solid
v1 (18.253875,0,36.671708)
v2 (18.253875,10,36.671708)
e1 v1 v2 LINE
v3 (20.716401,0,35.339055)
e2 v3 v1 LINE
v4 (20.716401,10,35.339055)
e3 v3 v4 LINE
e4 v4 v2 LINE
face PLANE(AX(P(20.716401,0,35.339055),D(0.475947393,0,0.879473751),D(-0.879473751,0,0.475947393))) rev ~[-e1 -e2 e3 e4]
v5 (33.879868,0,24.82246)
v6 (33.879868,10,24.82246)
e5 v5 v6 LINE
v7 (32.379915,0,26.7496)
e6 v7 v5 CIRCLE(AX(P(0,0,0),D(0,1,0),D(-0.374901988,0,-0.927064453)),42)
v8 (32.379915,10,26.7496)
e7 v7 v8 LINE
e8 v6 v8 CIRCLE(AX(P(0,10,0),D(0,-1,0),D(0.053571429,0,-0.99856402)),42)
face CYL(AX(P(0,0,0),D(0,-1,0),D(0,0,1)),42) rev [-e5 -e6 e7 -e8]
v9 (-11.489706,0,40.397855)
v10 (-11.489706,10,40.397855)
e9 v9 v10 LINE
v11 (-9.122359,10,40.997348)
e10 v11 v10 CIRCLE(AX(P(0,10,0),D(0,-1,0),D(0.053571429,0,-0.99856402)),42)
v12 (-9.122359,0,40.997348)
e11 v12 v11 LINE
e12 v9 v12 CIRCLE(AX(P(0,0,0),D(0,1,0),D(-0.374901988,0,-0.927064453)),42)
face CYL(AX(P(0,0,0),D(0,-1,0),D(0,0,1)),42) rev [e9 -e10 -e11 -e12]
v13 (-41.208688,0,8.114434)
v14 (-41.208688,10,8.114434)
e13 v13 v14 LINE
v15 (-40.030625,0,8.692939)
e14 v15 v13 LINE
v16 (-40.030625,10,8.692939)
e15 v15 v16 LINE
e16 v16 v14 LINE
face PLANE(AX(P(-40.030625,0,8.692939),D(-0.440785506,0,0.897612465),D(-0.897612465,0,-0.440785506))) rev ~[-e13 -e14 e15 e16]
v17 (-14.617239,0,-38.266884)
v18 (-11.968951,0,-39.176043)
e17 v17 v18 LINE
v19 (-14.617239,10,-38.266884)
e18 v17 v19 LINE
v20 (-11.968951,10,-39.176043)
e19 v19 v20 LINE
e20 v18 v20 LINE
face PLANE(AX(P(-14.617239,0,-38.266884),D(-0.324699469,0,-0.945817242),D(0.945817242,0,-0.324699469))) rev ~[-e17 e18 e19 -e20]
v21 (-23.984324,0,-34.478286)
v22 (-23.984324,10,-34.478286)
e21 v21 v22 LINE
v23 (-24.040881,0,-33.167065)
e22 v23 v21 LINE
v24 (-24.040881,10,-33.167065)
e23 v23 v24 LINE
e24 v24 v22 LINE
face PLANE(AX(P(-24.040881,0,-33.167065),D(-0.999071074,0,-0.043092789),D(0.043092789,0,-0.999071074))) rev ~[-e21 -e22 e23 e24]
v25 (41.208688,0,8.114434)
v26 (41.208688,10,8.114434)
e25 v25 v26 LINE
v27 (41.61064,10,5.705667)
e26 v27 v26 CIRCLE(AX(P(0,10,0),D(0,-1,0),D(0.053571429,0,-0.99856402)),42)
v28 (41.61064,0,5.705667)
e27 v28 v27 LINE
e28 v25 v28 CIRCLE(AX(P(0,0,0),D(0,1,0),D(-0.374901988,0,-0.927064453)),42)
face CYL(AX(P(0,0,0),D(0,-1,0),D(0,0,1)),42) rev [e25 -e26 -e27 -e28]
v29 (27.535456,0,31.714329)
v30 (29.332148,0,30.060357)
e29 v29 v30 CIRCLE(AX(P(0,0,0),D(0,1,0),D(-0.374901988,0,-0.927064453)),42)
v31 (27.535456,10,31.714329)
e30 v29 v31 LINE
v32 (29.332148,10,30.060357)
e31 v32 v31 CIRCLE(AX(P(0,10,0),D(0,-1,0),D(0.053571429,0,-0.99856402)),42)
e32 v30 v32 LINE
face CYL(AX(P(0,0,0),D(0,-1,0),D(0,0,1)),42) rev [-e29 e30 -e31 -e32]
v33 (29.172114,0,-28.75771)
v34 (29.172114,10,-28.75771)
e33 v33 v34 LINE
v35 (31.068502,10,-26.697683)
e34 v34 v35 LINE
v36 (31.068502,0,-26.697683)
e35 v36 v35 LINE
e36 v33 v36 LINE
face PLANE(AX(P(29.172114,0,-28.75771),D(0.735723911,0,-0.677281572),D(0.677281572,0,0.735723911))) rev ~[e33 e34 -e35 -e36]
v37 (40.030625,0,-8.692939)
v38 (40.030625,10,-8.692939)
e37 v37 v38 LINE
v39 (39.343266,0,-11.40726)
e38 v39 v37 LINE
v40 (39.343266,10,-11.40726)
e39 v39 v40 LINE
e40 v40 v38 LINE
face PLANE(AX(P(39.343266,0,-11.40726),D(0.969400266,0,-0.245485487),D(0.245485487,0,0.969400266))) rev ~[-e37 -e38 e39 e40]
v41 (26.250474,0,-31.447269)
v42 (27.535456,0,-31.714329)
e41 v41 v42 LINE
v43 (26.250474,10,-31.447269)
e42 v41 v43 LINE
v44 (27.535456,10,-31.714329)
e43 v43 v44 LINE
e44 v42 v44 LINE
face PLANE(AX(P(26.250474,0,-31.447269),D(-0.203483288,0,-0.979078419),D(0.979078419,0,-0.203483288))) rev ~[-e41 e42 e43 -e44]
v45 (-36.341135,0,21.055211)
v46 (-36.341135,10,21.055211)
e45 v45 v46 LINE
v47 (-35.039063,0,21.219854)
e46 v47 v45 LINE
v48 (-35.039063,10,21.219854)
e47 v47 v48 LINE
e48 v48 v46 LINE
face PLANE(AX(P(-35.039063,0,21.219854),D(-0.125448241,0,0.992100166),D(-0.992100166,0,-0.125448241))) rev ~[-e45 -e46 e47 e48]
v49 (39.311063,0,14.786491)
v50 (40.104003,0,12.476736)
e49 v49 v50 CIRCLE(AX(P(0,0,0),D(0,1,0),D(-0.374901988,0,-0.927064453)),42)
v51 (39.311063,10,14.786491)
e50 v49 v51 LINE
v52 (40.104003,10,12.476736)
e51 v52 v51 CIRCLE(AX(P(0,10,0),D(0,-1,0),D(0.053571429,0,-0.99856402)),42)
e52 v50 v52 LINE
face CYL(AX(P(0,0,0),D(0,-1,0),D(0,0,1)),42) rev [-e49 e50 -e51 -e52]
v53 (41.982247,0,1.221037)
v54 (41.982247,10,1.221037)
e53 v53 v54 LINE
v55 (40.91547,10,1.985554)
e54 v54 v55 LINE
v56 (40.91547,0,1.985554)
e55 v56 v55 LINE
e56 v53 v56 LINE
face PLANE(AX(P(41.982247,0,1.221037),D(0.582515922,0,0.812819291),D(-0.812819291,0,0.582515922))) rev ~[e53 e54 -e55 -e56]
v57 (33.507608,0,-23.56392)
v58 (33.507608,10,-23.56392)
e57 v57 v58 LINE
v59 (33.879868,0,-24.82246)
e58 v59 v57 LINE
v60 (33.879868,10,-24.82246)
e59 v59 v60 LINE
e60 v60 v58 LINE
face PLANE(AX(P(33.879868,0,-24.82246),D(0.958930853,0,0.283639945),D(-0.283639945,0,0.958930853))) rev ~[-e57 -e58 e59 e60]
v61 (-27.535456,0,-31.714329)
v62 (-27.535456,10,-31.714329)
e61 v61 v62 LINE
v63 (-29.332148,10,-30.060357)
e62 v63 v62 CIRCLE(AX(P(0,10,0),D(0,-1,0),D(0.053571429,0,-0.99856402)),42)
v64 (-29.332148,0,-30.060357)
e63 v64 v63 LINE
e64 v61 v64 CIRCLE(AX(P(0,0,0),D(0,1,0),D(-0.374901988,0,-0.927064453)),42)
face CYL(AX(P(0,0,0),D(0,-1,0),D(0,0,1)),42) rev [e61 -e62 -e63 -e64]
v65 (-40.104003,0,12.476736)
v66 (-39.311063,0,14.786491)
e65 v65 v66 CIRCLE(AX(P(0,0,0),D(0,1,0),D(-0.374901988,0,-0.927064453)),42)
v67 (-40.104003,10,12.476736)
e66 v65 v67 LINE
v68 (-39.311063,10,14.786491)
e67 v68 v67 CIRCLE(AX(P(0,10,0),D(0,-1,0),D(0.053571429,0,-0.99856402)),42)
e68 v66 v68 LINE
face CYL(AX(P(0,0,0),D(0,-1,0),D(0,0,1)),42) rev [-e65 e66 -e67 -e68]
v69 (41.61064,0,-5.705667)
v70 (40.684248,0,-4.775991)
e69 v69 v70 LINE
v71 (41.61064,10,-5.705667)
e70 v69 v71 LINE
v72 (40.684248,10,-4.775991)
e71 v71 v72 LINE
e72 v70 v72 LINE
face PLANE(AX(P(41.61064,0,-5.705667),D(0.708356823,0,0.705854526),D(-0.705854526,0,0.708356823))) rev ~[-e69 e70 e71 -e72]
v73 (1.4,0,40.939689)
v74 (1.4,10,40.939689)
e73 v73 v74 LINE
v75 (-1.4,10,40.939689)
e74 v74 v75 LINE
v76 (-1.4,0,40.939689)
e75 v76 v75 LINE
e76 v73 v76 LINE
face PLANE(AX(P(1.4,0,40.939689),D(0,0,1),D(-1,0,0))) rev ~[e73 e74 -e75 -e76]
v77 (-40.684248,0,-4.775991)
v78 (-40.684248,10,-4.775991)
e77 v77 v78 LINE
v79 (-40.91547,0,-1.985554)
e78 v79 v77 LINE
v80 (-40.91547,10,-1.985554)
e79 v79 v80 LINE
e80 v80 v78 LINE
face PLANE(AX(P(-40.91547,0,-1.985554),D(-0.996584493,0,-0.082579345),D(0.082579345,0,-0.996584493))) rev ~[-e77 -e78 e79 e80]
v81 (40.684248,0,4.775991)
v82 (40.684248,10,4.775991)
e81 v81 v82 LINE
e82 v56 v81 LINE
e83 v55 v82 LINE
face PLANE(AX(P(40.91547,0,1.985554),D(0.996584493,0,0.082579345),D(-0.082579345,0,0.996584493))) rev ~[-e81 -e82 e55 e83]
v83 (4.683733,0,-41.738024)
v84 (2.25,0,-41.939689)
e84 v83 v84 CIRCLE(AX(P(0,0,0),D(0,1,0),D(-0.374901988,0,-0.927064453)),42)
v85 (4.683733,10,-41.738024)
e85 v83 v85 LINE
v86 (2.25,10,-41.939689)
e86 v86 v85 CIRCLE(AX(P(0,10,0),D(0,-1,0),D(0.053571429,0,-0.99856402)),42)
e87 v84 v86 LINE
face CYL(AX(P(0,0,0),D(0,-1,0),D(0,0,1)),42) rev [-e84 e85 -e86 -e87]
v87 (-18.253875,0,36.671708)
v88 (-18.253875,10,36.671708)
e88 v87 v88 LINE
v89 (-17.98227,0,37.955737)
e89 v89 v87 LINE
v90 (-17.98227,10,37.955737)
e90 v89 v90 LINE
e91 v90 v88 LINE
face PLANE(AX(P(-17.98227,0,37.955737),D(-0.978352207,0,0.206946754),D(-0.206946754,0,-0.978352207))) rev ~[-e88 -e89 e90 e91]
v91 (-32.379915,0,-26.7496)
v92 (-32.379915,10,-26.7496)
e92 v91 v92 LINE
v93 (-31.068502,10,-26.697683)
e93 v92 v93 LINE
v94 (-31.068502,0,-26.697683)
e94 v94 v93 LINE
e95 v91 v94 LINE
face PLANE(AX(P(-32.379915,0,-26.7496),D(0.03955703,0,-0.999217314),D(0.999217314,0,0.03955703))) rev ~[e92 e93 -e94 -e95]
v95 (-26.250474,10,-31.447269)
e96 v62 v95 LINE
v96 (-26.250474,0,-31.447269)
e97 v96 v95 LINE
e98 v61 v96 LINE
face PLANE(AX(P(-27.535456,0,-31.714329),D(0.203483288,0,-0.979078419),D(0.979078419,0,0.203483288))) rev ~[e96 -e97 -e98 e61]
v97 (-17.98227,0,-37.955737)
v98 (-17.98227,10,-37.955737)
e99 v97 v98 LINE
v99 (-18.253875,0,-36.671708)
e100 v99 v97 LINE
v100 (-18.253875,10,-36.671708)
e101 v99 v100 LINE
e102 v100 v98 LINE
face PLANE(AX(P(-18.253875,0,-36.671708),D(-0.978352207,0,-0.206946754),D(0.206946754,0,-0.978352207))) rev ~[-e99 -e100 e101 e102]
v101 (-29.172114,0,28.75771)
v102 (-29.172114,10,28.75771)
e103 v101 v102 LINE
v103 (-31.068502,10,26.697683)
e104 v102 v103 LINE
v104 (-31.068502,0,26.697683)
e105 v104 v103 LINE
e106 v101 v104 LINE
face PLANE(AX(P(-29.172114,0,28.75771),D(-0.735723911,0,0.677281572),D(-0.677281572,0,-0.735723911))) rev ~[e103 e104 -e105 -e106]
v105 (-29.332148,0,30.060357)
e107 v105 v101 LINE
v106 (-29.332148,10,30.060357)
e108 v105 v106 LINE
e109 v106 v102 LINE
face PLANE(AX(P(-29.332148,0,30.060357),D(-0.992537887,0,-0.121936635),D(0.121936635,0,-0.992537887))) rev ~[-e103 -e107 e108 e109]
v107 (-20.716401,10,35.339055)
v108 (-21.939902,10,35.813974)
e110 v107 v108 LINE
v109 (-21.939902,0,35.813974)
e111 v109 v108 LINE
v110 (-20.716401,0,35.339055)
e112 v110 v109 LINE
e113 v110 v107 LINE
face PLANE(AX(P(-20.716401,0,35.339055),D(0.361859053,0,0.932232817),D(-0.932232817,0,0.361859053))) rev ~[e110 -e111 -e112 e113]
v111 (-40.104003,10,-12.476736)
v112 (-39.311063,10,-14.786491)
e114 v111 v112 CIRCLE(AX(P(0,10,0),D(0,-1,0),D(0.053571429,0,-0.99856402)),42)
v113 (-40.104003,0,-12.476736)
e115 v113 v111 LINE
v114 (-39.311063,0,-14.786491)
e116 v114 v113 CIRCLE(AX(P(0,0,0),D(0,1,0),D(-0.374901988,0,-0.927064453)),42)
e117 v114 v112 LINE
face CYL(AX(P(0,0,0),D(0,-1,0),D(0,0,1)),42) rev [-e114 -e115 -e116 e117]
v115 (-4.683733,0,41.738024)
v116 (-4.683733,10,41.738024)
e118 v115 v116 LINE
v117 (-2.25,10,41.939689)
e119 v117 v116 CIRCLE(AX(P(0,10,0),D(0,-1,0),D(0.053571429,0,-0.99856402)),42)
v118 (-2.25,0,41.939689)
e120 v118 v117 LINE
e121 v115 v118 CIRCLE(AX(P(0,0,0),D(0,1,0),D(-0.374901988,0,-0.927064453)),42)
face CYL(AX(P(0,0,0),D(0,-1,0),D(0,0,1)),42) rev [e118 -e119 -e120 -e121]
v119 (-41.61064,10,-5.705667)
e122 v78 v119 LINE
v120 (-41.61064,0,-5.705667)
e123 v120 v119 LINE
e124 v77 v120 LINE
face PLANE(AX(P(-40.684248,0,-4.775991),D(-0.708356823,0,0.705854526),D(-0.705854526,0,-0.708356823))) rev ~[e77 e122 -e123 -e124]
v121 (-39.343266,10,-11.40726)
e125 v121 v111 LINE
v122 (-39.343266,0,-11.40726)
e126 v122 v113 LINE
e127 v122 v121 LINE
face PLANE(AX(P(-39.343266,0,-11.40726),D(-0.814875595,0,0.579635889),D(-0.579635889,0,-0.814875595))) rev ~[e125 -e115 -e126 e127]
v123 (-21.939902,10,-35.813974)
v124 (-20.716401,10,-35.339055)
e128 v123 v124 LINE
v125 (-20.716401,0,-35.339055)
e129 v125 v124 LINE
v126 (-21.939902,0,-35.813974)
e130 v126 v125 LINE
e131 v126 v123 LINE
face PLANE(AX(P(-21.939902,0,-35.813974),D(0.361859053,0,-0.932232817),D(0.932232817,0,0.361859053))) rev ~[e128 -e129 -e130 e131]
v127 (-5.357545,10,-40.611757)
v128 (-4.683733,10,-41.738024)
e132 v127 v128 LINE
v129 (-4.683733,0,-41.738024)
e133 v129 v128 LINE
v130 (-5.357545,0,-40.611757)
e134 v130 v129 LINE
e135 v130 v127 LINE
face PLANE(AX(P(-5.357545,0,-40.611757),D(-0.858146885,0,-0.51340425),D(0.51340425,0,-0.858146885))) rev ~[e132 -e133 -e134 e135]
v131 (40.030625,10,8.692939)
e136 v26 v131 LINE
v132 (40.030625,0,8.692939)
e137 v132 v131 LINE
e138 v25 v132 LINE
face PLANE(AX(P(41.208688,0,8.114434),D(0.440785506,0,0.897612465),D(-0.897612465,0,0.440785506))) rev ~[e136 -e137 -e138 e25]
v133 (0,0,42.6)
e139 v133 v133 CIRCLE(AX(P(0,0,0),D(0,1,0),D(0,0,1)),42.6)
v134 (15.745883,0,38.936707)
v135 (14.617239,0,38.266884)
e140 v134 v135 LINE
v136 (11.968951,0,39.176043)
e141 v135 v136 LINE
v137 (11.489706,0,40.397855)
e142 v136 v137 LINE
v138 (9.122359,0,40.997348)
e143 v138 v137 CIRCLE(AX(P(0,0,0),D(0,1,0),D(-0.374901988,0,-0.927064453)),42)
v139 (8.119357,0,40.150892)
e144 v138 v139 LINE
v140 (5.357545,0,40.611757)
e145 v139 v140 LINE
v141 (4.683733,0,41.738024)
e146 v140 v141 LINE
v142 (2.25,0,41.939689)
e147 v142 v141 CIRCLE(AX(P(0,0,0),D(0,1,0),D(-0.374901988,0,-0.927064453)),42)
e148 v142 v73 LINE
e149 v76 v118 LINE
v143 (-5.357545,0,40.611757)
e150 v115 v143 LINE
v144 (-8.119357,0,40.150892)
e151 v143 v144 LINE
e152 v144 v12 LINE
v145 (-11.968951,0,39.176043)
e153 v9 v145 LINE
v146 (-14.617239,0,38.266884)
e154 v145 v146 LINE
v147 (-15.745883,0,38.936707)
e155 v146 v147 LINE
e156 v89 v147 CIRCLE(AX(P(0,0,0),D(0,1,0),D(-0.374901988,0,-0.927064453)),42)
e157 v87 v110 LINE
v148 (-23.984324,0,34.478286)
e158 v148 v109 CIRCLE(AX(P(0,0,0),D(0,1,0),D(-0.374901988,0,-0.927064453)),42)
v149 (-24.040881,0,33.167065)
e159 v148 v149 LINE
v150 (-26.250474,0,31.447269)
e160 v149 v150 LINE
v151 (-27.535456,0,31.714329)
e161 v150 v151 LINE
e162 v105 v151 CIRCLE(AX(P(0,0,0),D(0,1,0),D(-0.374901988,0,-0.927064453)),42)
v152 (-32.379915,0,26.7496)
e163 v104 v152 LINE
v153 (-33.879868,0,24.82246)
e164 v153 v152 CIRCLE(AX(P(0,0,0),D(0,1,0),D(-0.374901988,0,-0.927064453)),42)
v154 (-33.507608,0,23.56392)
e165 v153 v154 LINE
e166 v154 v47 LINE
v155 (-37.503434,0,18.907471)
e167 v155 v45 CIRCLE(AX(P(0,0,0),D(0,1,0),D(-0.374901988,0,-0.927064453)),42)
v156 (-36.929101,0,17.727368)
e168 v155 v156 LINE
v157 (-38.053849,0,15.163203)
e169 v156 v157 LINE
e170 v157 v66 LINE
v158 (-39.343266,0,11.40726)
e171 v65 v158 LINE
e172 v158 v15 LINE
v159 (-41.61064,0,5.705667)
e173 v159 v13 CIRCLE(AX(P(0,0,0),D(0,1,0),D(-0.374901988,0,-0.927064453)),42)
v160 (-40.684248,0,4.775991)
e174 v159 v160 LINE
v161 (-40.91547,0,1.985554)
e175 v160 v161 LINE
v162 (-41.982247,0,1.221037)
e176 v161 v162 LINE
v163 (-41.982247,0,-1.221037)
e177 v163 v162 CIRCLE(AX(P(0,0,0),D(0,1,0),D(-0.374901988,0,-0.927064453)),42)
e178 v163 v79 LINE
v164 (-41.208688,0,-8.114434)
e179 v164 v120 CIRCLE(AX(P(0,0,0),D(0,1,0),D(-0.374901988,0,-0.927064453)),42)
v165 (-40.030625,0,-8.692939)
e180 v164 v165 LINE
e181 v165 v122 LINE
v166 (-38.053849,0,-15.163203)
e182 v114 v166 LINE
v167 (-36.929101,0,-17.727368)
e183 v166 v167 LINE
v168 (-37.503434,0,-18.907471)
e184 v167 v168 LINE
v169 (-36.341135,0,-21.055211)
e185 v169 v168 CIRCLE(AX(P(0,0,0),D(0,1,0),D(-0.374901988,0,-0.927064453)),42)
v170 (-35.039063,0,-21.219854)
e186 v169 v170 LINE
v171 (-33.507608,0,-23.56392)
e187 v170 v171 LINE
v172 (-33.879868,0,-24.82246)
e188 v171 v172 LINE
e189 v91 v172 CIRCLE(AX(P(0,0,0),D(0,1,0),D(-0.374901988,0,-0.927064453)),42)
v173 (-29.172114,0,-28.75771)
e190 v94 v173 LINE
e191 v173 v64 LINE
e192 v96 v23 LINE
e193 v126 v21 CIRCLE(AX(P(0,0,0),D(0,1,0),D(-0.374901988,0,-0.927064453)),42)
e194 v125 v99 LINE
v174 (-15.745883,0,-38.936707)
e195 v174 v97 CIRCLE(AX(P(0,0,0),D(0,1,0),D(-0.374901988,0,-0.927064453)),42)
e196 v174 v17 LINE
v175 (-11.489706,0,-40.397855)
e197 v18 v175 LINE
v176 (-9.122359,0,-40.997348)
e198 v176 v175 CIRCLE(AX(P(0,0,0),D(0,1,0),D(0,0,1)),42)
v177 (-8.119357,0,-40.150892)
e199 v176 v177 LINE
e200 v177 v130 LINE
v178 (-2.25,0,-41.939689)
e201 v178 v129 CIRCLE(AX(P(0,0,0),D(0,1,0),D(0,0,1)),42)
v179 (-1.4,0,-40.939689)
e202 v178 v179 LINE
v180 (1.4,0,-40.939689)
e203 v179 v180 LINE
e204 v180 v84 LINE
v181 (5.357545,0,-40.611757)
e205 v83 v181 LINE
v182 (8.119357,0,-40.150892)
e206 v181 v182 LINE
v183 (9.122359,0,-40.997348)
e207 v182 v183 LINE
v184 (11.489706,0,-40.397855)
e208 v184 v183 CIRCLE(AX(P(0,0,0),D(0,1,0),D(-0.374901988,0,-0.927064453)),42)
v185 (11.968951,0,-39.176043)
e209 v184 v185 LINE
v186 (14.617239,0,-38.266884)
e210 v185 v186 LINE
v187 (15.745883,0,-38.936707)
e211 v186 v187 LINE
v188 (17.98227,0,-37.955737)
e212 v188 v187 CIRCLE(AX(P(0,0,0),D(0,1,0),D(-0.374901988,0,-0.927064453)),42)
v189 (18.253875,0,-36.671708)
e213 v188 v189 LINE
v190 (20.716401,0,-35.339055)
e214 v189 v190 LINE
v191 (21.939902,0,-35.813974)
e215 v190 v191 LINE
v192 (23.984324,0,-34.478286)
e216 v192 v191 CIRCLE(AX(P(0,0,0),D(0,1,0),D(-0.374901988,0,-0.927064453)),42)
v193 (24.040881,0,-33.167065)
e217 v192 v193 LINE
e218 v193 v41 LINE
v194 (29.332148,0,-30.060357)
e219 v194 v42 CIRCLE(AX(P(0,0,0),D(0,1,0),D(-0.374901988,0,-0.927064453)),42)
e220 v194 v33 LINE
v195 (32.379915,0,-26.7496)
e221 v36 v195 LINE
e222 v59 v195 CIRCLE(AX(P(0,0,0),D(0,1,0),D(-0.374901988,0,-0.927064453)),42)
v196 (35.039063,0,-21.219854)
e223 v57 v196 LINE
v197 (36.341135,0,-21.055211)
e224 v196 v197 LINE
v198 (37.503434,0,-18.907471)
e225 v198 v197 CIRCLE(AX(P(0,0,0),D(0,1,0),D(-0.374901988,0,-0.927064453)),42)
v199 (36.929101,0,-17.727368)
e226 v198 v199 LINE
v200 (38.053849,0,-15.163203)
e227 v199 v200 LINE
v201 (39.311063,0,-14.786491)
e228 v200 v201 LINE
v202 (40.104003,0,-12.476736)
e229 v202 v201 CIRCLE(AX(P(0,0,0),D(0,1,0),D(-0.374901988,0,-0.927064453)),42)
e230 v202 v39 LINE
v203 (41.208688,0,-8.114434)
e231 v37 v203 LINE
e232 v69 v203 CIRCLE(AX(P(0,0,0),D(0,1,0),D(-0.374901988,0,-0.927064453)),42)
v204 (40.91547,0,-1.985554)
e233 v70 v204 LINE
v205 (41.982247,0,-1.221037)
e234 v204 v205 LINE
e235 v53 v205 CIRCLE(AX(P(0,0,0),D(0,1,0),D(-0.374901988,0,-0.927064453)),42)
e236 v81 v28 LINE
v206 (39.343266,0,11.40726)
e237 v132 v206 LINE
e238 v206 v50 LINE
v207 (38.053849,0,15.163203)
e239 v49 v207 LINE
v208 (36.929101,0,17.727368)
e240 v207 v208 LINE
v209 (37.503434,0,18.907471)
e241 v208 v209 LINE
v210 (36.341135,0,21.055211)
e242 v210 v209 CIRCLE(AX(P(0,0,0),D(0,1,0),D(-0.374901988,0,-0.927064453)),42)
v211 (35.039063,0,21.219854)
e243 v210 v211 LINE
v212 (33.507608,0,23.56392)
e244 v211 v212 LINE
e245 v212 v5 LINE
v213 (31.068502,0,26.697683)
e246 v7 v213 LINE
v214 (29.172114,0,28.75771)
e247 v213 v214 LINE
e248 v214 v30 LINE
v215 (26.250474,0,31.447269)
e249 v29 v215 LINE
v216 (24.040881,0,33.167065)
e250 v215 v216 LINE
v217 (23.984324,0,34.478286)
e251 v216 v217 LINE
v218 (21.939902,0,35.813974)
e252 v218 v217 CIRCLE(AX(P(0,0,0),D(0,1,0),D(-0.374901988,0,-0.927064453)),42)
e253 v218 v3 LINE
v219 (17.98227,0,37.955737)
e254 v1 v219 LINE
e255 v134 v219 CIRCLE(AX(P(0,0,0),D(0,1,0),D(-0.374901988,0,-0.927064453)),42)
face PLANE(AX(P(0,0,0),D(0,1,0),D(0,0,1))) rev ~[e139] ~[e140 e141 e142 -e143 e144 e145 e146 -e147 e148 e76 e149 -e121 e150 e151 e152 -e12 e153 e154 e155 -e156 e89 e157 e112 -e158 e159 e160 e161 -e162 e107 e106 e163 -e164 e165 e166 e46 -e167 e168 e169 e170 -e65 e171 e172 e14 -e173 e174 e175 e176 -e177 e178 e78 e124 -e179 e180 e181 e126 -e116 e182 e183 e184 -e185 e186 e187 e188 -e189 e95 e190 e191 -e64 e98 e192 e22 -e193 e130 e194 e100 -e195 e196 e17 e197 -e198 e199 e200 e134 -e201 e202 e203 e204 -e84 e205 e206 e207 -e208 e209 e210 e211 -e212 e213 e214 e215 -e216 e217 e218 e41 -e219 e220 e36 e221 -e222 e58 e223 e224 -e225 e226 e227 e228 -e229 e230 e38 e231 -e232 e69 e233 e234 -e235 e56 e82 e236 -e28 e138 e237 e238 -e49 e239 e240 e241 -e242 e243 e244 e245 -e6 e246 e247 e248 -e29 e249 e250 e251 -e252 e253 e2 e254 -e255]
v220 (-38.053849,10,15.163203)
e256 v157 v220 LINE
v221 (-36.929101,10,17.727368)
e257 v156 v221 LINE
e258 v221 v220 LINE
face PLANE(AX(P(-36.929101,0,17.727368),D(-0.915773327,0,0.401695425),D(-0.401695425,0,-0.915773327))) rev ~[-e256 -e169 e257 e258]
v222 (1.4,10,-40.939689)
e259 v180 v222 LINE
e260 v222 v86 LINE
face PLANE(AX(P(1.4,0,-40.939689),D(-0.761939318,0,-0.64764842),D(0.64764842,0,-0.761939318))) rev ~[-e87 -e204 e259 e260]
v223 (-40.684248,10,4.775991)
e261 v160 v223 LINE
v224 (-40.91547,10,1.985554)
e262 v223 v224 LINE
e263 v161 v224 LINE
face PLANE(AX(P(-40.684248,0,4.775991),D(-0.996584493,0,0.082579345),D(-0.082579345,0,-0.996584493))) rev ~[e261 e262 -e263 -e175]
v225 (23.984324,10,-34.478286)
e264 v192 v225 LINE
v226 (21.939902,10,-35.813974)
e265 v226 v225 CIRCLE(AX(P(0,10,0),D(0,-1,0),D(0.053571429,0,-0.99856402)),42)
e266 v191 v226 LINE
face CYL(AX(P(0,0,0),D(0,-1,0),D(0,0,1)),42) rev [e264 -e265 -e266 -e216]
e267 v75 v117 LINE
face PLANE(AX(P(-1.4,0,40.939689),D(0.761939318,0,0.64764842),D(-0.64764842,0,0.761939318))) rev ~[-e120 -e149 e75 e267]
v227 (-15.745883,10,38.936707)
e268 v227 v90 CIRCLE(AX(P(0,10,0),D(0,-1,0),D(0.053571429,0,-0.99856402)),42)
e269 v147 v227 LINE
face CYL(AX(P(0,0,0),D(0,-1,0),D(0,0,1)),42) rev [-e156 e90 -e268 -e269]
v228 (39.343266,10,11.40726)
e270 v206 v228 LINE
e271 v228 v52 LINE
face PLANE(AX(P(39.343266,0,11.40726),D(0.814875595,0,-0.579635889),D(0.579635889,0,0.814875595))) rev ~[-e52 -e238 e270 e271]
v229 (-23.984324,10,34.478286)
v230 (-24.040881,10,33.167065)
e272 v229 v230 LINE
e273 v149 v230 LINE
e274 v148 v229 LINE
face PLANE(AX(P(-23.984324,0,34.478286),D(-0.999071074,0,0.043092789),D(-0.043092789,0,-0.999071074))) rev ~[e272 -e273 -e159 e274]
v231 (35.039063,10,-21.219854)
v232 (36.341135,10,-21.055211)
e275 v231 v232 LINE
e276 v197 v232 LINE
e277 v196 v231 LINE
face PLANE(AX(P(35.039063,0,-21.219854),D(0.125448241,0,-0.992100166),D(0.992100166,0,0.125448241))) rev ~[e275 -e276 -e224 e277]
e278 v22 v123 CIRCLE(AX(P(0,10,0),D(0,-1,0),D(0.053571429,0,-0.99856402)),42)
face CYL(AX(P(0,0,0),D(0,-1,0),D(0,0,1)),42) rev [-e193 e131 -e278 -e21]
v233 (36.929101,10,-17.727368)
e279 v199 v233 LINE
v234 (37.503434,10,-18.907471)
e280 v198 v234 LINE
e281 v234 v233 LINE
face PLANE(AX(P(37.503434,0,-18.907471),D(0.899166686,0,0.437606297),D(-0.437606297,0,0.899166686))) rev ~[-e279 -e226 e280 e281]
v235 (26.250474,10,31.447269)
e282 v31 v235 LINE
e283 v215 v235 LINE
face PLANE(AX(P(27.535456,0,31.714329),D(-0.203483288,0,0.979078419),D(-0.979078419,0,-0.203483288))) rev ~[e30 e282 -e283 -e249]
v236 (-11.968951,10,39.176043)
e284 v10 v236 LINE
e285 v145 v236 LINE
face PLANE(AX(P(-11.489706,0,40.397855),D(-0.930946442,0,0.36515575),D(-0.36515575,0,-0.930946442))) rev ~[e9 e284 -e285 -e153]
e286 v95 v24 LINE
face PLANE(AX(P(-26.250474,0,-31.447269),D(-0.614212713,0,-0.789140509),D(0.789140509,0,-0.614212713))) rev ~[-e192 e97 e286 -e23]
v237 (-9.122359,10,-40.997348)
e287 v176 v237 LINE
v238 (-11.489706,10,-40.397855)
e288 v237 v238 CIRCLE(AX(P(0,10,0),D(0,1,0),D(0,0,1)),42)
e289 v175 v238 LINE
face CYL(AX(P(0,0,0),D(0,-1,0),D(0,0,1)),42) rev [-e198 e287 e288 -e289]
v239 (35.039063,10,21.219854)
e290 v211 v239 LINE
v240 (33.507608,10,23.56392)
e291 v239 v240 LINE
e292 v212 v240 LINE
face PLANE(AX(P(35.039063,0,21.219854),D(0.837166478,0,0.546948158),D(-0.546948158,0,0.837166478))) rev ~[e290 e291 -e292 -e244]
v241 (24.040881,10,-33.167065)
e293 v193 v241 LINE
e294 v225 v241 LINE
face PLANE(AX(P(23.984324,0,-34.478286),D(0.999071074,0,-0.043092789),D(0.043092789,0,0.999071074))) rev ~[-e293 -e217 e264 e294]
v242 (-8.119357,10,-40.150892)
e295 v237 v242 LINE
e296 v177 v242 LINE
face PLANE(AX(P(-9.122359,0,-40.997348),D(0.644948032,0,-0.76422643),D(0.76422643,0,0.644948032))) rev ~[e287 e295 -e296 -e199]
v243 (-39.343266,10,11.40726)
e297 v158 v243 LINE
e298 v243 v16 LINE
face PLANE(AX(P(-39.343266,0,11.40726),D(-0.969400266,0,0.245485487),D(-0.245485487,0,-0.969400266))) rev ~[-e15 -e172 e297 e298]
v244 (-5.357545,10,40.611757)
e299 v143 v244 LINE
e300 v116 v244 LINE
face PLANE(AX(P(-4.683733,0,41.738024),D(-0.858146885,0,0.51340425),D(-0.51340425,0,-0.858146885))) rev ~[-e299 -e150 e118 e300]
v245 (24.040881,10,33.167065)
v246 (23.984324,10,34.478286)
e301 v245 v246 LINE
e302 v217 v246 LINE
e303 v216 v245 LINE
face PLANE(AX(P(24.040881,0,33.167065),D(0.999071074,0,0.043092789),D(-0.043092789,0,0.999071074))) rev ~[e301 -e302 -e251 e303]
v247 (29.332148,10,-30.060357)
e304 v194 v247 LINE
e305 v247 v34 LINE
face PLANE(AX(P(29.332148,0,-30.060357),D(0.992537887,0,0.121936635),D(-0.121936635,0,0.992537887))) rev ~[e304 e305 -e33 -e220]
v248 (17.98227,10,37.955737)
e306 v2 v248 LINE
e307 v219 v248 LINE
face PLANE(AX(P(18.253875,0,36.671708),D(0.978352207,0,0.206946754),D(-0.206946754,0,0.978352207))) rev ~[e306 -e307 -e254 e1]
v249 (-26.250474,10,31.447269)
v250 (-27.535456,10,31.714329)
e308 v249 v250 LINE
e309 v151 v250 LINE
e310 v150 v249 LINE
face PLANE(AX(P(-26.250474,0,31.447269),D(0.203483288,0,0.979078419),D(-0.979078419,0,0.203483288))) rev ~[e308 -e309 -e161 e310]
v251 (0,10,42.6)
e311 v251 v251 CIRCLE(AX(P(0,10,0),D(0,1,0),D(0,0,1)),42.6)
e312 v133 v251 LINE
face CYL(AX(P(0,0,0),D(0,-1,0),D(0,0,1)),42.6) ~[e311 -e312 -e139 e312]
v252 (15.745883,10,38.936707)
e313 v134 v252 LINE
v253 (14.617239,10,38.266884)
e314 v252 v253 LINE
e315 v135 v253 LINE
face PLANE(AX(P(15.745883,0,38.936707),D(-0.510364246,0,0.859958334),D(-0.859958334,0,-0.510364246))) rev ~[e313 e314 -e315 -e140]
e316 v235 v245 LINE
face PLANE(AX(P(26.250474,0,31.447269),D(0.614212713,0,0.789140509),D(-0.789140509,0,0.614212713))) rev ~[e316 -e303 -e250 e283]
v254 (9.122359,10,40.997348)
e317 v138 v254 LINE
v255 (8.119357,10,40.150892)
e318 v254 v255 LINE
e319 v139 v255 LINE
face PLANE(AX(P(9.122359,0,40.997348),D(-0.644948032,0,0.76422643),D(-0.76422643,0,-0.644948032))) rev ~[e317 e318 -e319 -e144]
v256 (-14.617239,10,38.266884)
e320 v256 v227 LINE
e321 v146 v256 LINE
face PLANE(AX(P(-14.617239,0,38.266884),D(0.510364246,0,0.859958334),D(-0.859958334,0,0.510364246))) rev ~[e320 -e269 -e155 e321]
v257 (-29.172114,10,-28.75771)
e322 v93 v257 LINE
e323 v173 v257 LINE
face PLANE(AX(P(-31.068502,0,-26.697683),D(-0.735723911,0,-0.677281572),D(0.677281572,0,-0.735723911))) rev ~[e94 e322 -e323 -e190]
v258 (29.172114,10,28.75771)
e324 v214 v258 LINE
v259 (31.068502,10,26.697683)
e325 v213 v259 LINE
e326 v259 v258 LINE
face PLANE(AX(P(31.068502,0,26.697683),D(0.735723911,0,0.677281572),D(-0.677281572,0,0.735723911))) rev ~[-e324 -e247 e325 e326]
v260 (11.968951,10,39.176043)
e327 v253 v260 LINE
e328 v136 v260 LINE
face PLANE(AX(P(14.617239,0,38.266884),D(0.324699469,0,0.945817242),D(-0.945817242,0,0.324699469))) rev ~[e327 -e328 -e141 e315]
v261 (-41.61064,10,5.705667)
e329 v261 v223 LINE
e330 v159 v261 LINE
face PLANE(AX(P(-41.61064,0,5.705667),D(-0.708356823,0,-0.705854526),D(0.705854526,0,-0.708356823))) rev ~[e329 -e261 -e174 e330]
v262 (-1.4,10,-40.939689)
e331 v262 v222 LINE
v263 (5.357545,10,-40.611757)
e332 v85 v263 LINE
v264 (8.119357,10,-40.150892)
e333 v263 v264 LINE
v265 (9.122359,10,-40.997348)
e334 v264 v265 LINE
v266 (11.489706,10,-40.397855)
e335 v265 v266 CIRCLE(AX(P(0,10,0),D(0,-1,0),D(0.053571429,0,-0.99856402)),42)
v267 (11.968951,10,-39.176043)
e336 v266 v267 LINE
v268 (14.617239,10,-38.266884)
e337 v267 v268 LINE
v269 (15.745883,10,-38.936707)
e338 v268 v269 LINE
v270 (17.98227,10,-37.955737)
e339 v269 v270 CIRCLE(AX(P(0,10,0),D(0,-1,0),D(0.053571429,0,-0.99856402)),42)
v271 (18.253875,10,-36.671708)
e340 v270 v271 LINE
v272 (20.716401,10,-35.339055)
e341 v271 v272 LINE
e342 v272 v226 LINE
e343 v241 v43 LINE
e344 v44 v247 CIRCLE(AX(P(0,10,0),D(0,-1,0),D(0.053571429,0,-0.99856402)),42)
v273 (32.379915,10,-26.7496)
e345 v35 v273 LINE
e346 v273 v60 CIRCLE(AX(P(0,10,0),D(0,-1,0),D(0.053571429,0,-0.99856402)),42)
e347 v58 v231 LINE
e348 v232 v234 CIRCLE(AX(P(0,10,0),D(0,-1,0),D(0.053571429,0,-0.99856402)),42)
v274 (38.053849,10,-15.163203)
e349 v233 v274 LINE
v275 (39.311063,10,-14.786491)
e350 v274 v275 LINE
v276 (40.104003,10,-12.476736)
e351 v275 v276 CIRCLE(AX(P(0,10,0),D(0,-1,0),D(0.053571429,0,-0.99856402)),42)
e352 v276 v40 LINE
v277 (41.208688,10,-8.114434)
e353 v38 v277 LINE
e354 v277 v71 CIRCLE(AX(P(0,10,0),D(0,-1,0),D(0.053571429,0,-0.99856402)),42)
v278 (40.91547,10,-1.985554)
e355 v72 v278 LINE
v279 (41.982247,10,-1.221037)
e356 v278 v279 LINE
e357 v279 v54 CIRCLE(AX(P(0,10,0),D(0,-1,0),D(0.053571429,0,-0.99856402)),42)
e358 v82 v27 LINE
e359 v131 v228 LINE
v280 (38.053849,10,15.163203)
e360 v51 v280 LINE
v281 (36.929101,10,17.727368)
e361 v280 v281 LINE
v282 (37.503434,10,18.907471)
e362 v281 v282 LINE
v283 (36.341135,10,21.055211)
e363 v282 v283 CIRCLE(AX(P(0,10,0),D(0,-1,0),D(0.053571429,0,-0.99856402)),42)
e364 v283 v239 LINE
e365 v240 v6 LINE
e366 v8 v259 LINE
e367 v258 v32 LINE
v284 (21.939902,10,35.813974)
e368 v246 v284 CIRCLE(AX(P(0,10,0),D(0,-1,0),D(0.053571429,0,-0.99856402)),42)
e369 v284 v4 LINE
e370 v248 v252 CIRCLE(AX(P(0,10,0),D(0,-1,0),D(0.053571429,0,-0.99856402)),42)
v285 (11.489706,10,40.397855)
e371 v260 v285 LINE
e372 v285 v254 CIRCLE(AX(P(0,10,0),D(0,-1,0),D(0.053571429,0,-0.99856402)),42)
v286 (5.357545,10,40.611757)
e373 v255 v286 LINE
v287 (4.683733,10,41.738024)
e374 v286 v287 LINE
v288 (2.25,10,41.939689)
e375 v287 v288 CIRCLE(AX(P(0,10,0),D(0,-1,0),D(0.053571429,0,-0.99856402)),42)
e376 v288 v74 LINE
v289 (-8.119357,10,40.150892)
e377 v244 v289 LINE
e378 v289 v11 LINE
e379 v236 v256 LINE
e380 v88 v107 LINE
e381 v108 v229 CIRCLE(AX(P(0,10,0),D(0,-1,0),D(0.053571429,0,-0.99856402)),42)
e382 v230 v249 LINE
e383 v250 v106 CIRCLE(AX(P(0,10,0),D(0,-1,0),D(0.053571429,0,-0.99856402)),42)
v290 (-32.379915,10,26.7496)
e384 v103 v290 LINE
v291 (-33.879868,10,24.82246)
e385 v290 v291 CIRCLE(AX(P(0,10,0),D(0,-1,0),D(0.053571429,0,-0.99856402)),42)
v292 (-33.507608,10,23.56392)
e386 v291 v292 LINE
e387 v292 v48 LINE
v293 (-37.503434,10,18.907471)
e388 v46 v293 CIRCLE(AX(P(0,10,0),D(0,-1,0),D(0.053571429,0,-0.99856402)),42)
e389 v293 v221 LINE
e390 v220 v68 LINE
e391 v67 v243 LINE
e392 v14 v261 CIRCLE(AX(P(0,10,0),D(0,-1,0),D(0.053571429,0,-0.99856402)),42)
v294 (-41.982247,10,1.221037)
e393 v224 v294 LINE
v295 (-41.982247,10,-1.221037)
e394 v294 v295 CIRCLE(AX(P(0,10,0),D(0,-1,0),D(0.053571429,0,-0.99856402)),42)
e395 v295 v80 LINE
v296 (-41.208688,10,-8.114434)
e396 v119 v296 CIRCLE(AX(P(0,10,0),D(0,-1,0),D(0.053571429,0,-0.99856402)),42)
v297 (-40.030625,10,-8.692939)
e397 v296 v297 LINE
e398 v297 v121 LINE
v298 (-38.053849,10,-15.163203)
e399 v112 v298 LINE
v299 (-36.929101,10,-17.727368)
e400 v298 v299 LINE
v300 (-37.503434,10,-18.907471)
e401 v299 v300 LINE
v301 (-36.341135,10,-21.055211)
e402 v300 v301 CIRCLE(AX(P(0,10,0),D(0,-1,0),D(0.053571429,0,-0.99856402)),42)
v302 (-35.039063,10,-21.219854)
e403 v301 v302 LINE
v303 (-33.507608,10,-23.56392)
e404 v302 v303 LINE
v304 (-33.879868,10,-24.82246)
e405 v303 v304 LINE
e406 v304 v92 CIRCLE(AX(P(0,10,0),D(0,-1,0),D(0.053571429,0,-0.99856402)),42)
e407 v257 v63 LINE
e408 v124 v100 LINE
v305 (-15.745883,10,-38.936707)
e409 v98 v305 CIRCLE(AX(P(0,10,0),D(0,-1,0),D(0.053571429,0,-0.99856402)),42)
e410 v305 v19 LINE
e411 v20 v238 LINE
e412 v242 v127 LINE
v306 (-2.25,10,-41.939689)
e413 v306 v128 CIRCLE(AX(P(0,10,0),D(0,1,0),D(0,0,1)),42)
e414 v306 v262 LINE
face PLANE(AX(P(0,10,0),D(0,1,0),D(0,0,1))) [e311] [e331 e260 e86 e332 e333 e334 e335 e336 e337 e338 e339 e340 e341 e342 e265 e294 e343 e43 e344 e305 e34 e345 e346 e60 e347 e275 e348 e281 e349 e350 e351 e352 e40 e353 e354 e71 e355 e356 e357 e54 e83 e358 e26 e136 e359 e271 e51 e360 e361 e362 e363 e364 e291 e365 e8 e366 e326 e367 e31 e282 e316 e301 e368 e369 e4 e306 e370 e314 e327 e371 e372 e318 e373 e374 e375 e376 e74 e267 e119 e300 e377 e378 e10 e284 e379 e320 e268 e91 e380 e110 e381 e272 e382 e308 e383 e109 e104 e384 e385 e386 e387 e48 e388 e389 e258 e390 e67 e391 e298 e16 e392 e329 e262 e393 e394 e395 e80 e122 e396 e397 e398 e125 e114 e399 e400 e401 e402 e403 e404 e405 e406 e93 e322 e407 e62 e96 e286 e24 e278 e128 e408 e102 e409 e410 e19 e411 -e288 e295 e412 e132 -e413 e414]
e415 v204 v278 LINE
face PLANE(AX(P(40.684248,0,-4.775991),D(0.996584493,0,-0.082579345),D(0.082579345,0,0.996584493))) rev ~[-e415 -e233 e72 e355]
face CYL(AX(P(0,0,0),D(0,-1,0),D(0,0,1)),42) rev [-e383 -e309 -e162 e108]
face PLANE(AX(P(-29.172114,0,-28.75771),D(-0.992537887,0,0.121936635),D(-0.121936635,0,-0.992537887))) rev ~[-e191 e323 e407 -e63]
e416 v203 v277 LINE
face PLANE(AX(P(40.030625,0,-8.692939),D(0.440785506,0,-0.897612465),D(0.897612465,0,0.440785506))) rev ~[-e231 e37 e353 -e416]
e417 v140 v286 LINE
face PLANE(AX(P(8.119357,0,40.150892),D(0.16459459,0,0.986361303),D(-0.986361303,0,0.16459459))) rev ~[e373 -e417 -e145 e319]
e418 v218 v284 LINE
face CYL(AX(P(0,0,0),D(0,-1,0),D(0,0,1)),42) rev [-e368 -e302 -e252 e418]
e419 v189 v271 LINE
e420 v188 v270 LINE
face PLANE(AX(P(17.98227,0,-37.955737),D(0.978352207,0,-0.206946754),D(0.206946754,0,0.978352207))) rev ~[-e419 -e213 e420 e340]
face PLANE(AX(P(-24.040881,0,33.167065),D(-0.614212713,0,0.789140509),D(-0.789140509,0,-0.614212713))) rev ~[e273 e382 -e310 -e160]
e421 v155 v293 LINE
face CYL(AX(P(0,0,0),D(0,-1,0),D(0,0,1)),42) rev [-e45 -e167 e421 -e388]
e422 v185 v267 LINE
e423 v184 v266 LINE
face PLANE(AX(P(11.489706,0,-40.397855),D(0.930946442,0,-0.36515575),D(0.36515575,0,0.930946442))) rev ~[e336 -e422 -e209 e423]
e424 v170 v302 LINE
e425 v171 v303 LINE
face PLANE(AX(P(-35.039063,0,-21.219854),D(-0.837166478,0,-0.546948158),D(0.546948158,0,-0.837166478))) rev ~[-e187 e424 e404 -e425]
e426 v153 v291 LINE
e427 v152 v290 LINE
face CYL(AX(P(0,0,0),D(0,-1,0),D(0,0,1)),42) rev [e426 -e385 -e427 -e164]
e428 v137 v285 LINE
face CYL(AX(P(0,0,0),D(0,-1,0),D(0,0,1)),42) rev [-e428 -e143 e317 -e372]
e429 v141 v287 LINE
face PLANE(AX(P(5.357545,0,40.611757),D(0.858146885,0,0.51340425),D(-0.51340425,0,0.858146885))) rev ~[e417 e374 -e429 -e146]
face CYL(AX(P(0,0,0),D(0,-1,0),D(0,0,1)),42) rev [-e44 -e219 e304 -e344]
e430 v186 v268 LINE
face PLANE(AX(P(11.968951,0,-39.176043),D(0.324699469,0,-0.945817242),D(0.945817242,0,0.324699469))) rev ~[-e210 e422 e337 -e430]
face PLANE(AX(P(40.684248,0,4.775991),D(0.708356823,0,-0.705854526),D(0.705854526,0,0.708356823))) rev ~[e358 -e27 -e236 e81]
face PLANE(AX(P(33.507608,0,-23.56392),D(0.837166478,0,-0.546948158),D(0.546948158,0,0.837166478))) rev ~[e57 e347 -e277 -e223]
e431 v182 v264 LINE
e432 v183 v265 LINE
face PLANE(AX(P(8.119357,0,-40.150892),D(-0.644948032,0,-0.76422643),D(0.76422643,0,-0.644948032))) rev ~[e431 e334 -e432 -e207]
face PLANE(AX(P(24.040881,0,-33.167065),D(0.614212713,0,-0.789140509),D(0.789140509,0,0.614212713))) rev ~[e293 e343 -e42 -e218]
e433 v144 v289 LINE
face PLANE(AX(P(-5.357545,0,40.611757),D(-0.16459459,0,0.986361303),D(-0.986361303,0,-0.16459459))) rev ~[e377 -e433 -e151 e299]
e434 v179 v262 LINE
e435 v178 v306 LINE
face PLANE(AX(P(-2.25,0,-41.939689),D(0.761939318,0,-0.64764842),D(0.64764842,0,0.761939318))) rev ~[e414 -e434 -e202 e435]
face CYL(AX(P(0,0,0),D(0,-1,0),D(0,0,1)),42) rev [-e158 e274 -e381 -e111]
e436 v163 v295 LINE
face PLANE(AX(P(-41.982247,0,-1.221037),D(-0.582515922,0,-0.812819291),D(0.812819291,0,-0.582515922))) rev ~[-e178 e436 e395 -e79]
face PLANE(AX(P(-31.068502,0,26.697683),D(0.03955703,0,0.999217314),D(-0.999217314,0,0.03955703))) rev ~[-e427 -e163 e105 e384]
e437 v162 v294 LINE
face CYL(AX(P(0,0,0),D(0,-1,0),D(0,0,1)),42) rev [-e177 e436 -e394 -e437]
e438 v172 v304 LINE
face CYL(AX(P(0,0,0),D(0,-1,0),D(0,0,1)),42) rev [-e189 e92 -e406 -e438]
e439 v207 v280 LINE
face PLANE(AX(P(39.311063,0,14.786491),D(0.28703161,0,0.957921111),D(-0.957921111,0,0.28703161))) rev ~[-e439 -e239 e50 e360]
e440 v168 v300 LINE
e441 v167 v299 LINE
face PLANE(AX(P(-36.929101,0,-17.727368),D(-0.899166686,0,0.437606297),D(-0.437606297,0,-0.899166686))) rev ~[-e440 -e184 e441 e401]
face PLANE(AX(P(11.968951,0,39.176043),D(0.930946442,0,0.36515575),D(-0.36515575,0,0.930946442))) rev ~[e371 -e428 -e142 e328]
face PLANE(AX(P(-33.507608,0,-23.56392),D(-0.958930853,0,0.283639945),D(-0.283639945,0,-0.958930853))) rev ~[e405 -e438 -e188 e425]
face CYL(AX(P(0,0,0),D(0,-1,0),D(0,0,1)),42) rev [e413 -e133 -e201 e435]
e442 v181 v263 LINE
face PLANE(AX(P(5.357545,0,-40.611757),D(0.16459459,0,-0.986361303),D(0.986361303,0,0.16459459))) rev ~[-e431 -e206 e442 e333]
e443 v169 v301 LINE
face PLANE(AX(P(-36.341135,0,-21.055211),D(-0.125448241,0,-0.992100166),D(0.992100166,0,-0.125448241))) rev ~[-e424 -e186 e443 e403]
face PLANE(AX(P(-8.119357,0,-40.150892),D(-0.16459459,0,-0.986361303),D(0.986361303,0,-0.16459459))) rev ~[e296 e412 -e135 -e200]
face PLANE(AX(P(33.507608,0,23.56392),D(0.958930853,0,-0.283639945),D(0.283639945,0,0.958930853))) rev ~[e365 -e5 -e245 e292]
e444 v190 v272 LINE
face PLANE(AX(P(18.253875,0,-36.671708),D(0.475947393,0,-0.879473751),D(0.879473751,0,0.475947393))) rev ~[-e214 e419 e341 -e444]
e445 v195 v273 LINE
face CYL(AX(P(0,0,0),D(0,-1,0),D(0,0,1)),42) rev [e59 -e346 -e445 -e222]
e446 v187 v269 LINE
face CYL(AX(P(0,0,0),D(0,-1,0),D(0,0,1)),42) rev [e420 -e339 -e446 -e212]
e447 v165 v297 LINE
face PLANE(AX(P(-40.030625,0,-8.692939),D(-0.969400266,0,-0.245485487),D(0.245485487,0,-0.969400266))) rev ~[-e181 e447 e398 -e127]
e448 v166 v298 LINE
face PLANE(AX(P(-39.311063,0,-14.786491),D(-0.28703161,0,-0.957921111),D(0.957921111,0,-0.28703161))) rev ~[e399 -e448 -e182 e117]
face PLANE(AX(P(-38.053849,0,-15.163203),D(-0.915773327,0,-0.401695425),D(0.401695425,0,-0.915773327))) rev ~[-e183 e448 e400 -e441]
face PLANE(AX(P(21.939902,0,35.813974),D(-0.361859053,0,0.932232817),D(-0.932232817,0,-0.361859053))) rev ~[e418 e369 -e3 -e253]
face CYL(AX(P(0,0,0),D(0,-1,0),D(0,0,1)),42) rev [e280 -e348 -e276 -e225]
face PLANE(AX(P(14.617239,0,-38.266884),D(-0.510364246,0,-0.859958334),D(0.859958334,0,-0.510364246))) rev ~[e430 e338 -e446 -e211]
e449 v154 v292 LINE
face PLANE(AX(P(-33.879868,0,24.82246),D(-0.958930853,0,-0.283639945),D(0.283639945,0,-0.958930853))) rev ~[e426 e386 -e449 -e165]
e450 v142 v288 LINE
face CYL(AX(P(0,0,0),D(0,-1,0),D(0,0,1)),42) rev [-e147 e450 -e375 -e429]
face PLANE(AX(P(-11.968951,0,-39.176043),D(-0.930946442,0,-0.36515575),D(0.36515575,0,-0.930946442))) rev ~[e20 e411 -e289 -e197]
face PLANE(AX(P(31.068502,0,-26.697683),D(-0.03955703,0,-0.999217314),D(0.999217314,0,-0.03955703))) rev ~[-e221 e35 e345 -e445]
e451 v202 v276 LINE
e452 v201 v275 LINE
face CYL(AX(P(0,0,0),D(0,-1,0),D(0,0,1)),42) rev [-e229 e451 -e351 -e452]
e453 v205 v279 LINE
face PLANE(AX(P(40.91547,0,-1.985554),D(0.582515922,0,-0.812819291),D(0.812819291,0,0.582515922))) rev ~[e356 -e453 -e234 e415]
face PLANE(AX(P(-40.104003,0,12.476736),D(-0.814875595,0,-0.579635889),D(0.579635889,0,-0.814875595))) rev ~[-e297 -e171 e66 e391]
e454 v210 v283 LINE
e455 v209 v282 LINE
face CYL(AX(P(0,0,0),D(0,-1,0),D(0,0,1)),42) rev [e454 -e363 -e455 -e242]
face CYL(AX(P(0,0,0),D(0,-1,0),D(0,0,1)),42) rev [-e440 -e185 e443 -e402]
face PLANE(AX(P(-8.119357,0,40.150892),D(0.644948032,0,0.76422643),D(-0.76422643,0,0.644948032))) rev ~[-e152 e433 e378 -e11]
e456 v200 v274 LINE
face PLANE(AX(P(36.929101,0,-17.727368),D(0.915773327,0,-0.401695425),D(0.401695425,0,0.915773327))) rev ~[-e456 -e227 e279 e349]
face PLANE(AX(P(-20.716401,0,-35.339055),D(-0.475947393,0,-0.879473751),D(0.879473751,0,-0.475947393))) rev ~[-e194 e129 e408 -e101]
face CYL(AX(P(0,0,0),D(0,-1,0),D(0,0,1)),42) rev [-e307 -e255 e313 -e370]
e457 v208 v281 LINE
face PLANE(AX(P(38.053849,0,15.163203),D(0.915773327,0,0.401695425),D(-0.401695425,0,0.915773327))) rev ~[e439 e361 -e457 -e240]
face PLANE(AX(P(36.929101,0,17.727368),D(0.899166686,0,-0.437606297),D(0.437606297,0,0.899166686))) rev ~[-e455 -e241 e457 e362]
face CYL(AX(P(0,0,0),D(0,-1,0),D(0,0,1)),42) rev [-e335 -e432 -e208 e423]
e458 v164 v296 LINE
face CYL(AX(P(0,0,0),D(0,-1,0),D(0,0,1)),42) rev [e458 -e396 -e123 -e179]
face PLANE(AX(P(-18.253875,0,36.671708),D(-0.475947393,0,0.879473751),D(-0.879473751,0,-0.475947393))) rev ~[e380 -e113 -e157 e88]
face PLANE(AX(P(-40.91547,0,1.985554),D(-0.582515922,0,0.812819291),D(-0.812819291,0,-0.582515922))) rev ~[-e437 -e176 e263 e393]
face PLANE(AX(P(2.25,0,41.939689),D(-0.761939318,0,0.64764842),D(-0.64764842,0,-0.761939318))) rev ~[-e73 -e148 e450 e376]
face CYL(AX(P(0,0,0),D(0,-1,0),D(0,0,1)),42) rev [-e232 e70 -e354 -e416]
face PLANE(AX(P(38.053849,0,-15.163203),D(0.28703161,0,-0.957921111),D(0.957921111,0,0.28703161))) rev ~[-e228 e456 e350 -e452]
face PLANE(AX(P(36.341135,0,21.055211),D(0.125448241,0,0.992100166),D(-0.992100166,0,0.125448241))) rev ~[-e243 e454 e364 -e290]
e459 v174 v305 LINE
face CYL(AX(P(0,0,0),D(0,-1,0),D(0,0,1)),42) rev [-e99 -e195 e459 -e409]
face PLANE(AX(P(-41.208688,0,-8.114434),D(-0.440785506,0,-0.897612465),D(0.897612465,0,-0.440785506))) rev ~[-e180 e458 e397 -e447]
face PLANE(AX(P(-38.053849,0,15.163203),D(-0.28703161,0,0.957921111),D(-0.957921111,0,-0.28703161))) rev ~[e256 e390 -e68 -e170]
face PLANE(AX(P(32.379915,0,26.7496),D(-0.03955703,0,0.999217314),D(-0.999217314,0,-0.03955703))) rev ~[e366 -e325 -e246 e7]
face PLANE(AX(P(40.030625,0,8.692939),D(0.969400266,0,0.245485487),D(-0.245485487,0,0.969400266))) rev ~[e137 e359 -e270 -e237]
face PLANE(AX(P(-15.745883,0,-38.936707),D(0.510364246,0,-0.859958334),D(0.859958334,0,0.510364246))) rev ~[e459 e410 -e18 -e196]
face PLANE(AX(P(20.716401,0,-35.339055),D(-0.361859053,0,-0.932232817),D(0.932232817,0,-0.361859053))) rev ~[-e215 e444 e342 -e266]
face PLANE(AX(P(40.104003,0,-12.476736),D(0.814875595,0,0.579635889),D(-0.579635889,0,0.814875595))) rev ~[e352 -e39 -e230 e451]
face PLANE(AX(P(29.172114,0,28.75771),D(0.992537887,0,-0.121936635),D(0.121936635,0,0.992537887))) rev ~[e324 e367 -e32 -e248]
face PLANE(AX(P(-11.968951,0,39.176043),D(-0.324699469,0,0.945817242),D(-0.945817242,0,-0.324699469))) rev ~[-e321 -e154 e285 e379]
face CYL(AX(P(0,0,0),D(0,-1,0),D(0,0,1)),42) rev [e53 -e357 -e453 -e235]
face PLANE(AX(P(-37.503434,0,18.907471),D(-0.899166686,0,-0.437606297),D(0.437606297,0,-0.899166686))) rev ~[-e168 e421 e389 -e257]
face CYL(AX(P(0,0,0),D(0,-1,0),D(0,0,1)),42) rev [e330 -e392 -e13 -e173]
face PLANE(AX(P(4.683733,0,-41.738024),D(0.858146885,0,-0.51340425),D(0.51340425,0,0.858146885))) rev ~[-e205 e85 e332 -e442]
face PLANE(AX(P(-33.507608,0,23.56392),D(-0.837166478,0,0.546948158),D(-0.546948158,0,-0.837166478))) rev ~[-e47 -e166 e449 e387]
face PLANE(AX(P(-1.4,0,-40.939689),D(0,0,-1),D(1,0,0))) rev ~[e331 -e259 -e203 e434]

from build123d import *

# Parameters (mm, degrees)
SKETCH_1_R               = 42.6
SKETCH_1_R_2             = 42
EXTRUDE_1_DEPTH          = 10
EXTRUDE_START            = -10
EXTRUDE_2_DEPTH          = 10
PATTERN_CIRCULAR_1_COUNT = 38


with BuildPart() as part:
    # 草图1 → 凸台-拉伸1 (new body)
    with BuildSketch(Plane(origin=(0, 0, 0), x_dir=(1, 0, 0), z_dir=(0, 1, 0))):
        with Locations(Location((0, 0, 0), (0, 0, 270))):
            Circle(SKETCH_1_R)
        with Locations(Location((0, 0, 0), (0, 0, 270))):
            Circle(SKETCH_1_R_2, mode=Mode.SUBTRACT)
    extrude(amount=EXTRUDE_1_DEPTH)

    # 草图2 → 凸台-拉伸2 (add)
    with BuildSketch(Plane(origin=(0, 10, 0), x_dir=(1, 0, 0), z_dir=(0, 1, 0)).offset(EXTRUDE_START)):
        with BuildLine():
            Line((-1.4, 40.93968884), (0, 40.93968884))
            Line((0, 40.93968884), (0, 42))
            ThreePointArc((0, 42), (-1.125404087, 41.984919503), (-2.25, 41.93968884))
            Line((-2.25, 41.93968884), (-1.4, 40.93968884))
        make_face()
        with BuildLine():
            Line((0, 42), (0, 40.93968884))
            Line((0, 40.93968884), (1.4, 40.93968884))
            Line((1.4, 40.93968884), (2.25, 41.93968884))
            ThreePointArc((2.25, 41.93968884), (1.125404087, 41.984919503), (0, 42))
        make_face()
    extrude_2 = extrude(amount=EXTRUDE_2_DEPTH)

    # 阵列(圆周)1: 凸台-拉伸2 ×38 about axis
    pattern_circular_1_axis = Axis((0, 0, 0), (0, 1, 0))
    for i in range(1, PATTERN_CIRCULAR_1_COUNT):
        add(extrude_2.rotate(pattern_circular_1_axis, i * 360 / PATTERN_CIRCULAR_1_COUNT))


solid = part.part
